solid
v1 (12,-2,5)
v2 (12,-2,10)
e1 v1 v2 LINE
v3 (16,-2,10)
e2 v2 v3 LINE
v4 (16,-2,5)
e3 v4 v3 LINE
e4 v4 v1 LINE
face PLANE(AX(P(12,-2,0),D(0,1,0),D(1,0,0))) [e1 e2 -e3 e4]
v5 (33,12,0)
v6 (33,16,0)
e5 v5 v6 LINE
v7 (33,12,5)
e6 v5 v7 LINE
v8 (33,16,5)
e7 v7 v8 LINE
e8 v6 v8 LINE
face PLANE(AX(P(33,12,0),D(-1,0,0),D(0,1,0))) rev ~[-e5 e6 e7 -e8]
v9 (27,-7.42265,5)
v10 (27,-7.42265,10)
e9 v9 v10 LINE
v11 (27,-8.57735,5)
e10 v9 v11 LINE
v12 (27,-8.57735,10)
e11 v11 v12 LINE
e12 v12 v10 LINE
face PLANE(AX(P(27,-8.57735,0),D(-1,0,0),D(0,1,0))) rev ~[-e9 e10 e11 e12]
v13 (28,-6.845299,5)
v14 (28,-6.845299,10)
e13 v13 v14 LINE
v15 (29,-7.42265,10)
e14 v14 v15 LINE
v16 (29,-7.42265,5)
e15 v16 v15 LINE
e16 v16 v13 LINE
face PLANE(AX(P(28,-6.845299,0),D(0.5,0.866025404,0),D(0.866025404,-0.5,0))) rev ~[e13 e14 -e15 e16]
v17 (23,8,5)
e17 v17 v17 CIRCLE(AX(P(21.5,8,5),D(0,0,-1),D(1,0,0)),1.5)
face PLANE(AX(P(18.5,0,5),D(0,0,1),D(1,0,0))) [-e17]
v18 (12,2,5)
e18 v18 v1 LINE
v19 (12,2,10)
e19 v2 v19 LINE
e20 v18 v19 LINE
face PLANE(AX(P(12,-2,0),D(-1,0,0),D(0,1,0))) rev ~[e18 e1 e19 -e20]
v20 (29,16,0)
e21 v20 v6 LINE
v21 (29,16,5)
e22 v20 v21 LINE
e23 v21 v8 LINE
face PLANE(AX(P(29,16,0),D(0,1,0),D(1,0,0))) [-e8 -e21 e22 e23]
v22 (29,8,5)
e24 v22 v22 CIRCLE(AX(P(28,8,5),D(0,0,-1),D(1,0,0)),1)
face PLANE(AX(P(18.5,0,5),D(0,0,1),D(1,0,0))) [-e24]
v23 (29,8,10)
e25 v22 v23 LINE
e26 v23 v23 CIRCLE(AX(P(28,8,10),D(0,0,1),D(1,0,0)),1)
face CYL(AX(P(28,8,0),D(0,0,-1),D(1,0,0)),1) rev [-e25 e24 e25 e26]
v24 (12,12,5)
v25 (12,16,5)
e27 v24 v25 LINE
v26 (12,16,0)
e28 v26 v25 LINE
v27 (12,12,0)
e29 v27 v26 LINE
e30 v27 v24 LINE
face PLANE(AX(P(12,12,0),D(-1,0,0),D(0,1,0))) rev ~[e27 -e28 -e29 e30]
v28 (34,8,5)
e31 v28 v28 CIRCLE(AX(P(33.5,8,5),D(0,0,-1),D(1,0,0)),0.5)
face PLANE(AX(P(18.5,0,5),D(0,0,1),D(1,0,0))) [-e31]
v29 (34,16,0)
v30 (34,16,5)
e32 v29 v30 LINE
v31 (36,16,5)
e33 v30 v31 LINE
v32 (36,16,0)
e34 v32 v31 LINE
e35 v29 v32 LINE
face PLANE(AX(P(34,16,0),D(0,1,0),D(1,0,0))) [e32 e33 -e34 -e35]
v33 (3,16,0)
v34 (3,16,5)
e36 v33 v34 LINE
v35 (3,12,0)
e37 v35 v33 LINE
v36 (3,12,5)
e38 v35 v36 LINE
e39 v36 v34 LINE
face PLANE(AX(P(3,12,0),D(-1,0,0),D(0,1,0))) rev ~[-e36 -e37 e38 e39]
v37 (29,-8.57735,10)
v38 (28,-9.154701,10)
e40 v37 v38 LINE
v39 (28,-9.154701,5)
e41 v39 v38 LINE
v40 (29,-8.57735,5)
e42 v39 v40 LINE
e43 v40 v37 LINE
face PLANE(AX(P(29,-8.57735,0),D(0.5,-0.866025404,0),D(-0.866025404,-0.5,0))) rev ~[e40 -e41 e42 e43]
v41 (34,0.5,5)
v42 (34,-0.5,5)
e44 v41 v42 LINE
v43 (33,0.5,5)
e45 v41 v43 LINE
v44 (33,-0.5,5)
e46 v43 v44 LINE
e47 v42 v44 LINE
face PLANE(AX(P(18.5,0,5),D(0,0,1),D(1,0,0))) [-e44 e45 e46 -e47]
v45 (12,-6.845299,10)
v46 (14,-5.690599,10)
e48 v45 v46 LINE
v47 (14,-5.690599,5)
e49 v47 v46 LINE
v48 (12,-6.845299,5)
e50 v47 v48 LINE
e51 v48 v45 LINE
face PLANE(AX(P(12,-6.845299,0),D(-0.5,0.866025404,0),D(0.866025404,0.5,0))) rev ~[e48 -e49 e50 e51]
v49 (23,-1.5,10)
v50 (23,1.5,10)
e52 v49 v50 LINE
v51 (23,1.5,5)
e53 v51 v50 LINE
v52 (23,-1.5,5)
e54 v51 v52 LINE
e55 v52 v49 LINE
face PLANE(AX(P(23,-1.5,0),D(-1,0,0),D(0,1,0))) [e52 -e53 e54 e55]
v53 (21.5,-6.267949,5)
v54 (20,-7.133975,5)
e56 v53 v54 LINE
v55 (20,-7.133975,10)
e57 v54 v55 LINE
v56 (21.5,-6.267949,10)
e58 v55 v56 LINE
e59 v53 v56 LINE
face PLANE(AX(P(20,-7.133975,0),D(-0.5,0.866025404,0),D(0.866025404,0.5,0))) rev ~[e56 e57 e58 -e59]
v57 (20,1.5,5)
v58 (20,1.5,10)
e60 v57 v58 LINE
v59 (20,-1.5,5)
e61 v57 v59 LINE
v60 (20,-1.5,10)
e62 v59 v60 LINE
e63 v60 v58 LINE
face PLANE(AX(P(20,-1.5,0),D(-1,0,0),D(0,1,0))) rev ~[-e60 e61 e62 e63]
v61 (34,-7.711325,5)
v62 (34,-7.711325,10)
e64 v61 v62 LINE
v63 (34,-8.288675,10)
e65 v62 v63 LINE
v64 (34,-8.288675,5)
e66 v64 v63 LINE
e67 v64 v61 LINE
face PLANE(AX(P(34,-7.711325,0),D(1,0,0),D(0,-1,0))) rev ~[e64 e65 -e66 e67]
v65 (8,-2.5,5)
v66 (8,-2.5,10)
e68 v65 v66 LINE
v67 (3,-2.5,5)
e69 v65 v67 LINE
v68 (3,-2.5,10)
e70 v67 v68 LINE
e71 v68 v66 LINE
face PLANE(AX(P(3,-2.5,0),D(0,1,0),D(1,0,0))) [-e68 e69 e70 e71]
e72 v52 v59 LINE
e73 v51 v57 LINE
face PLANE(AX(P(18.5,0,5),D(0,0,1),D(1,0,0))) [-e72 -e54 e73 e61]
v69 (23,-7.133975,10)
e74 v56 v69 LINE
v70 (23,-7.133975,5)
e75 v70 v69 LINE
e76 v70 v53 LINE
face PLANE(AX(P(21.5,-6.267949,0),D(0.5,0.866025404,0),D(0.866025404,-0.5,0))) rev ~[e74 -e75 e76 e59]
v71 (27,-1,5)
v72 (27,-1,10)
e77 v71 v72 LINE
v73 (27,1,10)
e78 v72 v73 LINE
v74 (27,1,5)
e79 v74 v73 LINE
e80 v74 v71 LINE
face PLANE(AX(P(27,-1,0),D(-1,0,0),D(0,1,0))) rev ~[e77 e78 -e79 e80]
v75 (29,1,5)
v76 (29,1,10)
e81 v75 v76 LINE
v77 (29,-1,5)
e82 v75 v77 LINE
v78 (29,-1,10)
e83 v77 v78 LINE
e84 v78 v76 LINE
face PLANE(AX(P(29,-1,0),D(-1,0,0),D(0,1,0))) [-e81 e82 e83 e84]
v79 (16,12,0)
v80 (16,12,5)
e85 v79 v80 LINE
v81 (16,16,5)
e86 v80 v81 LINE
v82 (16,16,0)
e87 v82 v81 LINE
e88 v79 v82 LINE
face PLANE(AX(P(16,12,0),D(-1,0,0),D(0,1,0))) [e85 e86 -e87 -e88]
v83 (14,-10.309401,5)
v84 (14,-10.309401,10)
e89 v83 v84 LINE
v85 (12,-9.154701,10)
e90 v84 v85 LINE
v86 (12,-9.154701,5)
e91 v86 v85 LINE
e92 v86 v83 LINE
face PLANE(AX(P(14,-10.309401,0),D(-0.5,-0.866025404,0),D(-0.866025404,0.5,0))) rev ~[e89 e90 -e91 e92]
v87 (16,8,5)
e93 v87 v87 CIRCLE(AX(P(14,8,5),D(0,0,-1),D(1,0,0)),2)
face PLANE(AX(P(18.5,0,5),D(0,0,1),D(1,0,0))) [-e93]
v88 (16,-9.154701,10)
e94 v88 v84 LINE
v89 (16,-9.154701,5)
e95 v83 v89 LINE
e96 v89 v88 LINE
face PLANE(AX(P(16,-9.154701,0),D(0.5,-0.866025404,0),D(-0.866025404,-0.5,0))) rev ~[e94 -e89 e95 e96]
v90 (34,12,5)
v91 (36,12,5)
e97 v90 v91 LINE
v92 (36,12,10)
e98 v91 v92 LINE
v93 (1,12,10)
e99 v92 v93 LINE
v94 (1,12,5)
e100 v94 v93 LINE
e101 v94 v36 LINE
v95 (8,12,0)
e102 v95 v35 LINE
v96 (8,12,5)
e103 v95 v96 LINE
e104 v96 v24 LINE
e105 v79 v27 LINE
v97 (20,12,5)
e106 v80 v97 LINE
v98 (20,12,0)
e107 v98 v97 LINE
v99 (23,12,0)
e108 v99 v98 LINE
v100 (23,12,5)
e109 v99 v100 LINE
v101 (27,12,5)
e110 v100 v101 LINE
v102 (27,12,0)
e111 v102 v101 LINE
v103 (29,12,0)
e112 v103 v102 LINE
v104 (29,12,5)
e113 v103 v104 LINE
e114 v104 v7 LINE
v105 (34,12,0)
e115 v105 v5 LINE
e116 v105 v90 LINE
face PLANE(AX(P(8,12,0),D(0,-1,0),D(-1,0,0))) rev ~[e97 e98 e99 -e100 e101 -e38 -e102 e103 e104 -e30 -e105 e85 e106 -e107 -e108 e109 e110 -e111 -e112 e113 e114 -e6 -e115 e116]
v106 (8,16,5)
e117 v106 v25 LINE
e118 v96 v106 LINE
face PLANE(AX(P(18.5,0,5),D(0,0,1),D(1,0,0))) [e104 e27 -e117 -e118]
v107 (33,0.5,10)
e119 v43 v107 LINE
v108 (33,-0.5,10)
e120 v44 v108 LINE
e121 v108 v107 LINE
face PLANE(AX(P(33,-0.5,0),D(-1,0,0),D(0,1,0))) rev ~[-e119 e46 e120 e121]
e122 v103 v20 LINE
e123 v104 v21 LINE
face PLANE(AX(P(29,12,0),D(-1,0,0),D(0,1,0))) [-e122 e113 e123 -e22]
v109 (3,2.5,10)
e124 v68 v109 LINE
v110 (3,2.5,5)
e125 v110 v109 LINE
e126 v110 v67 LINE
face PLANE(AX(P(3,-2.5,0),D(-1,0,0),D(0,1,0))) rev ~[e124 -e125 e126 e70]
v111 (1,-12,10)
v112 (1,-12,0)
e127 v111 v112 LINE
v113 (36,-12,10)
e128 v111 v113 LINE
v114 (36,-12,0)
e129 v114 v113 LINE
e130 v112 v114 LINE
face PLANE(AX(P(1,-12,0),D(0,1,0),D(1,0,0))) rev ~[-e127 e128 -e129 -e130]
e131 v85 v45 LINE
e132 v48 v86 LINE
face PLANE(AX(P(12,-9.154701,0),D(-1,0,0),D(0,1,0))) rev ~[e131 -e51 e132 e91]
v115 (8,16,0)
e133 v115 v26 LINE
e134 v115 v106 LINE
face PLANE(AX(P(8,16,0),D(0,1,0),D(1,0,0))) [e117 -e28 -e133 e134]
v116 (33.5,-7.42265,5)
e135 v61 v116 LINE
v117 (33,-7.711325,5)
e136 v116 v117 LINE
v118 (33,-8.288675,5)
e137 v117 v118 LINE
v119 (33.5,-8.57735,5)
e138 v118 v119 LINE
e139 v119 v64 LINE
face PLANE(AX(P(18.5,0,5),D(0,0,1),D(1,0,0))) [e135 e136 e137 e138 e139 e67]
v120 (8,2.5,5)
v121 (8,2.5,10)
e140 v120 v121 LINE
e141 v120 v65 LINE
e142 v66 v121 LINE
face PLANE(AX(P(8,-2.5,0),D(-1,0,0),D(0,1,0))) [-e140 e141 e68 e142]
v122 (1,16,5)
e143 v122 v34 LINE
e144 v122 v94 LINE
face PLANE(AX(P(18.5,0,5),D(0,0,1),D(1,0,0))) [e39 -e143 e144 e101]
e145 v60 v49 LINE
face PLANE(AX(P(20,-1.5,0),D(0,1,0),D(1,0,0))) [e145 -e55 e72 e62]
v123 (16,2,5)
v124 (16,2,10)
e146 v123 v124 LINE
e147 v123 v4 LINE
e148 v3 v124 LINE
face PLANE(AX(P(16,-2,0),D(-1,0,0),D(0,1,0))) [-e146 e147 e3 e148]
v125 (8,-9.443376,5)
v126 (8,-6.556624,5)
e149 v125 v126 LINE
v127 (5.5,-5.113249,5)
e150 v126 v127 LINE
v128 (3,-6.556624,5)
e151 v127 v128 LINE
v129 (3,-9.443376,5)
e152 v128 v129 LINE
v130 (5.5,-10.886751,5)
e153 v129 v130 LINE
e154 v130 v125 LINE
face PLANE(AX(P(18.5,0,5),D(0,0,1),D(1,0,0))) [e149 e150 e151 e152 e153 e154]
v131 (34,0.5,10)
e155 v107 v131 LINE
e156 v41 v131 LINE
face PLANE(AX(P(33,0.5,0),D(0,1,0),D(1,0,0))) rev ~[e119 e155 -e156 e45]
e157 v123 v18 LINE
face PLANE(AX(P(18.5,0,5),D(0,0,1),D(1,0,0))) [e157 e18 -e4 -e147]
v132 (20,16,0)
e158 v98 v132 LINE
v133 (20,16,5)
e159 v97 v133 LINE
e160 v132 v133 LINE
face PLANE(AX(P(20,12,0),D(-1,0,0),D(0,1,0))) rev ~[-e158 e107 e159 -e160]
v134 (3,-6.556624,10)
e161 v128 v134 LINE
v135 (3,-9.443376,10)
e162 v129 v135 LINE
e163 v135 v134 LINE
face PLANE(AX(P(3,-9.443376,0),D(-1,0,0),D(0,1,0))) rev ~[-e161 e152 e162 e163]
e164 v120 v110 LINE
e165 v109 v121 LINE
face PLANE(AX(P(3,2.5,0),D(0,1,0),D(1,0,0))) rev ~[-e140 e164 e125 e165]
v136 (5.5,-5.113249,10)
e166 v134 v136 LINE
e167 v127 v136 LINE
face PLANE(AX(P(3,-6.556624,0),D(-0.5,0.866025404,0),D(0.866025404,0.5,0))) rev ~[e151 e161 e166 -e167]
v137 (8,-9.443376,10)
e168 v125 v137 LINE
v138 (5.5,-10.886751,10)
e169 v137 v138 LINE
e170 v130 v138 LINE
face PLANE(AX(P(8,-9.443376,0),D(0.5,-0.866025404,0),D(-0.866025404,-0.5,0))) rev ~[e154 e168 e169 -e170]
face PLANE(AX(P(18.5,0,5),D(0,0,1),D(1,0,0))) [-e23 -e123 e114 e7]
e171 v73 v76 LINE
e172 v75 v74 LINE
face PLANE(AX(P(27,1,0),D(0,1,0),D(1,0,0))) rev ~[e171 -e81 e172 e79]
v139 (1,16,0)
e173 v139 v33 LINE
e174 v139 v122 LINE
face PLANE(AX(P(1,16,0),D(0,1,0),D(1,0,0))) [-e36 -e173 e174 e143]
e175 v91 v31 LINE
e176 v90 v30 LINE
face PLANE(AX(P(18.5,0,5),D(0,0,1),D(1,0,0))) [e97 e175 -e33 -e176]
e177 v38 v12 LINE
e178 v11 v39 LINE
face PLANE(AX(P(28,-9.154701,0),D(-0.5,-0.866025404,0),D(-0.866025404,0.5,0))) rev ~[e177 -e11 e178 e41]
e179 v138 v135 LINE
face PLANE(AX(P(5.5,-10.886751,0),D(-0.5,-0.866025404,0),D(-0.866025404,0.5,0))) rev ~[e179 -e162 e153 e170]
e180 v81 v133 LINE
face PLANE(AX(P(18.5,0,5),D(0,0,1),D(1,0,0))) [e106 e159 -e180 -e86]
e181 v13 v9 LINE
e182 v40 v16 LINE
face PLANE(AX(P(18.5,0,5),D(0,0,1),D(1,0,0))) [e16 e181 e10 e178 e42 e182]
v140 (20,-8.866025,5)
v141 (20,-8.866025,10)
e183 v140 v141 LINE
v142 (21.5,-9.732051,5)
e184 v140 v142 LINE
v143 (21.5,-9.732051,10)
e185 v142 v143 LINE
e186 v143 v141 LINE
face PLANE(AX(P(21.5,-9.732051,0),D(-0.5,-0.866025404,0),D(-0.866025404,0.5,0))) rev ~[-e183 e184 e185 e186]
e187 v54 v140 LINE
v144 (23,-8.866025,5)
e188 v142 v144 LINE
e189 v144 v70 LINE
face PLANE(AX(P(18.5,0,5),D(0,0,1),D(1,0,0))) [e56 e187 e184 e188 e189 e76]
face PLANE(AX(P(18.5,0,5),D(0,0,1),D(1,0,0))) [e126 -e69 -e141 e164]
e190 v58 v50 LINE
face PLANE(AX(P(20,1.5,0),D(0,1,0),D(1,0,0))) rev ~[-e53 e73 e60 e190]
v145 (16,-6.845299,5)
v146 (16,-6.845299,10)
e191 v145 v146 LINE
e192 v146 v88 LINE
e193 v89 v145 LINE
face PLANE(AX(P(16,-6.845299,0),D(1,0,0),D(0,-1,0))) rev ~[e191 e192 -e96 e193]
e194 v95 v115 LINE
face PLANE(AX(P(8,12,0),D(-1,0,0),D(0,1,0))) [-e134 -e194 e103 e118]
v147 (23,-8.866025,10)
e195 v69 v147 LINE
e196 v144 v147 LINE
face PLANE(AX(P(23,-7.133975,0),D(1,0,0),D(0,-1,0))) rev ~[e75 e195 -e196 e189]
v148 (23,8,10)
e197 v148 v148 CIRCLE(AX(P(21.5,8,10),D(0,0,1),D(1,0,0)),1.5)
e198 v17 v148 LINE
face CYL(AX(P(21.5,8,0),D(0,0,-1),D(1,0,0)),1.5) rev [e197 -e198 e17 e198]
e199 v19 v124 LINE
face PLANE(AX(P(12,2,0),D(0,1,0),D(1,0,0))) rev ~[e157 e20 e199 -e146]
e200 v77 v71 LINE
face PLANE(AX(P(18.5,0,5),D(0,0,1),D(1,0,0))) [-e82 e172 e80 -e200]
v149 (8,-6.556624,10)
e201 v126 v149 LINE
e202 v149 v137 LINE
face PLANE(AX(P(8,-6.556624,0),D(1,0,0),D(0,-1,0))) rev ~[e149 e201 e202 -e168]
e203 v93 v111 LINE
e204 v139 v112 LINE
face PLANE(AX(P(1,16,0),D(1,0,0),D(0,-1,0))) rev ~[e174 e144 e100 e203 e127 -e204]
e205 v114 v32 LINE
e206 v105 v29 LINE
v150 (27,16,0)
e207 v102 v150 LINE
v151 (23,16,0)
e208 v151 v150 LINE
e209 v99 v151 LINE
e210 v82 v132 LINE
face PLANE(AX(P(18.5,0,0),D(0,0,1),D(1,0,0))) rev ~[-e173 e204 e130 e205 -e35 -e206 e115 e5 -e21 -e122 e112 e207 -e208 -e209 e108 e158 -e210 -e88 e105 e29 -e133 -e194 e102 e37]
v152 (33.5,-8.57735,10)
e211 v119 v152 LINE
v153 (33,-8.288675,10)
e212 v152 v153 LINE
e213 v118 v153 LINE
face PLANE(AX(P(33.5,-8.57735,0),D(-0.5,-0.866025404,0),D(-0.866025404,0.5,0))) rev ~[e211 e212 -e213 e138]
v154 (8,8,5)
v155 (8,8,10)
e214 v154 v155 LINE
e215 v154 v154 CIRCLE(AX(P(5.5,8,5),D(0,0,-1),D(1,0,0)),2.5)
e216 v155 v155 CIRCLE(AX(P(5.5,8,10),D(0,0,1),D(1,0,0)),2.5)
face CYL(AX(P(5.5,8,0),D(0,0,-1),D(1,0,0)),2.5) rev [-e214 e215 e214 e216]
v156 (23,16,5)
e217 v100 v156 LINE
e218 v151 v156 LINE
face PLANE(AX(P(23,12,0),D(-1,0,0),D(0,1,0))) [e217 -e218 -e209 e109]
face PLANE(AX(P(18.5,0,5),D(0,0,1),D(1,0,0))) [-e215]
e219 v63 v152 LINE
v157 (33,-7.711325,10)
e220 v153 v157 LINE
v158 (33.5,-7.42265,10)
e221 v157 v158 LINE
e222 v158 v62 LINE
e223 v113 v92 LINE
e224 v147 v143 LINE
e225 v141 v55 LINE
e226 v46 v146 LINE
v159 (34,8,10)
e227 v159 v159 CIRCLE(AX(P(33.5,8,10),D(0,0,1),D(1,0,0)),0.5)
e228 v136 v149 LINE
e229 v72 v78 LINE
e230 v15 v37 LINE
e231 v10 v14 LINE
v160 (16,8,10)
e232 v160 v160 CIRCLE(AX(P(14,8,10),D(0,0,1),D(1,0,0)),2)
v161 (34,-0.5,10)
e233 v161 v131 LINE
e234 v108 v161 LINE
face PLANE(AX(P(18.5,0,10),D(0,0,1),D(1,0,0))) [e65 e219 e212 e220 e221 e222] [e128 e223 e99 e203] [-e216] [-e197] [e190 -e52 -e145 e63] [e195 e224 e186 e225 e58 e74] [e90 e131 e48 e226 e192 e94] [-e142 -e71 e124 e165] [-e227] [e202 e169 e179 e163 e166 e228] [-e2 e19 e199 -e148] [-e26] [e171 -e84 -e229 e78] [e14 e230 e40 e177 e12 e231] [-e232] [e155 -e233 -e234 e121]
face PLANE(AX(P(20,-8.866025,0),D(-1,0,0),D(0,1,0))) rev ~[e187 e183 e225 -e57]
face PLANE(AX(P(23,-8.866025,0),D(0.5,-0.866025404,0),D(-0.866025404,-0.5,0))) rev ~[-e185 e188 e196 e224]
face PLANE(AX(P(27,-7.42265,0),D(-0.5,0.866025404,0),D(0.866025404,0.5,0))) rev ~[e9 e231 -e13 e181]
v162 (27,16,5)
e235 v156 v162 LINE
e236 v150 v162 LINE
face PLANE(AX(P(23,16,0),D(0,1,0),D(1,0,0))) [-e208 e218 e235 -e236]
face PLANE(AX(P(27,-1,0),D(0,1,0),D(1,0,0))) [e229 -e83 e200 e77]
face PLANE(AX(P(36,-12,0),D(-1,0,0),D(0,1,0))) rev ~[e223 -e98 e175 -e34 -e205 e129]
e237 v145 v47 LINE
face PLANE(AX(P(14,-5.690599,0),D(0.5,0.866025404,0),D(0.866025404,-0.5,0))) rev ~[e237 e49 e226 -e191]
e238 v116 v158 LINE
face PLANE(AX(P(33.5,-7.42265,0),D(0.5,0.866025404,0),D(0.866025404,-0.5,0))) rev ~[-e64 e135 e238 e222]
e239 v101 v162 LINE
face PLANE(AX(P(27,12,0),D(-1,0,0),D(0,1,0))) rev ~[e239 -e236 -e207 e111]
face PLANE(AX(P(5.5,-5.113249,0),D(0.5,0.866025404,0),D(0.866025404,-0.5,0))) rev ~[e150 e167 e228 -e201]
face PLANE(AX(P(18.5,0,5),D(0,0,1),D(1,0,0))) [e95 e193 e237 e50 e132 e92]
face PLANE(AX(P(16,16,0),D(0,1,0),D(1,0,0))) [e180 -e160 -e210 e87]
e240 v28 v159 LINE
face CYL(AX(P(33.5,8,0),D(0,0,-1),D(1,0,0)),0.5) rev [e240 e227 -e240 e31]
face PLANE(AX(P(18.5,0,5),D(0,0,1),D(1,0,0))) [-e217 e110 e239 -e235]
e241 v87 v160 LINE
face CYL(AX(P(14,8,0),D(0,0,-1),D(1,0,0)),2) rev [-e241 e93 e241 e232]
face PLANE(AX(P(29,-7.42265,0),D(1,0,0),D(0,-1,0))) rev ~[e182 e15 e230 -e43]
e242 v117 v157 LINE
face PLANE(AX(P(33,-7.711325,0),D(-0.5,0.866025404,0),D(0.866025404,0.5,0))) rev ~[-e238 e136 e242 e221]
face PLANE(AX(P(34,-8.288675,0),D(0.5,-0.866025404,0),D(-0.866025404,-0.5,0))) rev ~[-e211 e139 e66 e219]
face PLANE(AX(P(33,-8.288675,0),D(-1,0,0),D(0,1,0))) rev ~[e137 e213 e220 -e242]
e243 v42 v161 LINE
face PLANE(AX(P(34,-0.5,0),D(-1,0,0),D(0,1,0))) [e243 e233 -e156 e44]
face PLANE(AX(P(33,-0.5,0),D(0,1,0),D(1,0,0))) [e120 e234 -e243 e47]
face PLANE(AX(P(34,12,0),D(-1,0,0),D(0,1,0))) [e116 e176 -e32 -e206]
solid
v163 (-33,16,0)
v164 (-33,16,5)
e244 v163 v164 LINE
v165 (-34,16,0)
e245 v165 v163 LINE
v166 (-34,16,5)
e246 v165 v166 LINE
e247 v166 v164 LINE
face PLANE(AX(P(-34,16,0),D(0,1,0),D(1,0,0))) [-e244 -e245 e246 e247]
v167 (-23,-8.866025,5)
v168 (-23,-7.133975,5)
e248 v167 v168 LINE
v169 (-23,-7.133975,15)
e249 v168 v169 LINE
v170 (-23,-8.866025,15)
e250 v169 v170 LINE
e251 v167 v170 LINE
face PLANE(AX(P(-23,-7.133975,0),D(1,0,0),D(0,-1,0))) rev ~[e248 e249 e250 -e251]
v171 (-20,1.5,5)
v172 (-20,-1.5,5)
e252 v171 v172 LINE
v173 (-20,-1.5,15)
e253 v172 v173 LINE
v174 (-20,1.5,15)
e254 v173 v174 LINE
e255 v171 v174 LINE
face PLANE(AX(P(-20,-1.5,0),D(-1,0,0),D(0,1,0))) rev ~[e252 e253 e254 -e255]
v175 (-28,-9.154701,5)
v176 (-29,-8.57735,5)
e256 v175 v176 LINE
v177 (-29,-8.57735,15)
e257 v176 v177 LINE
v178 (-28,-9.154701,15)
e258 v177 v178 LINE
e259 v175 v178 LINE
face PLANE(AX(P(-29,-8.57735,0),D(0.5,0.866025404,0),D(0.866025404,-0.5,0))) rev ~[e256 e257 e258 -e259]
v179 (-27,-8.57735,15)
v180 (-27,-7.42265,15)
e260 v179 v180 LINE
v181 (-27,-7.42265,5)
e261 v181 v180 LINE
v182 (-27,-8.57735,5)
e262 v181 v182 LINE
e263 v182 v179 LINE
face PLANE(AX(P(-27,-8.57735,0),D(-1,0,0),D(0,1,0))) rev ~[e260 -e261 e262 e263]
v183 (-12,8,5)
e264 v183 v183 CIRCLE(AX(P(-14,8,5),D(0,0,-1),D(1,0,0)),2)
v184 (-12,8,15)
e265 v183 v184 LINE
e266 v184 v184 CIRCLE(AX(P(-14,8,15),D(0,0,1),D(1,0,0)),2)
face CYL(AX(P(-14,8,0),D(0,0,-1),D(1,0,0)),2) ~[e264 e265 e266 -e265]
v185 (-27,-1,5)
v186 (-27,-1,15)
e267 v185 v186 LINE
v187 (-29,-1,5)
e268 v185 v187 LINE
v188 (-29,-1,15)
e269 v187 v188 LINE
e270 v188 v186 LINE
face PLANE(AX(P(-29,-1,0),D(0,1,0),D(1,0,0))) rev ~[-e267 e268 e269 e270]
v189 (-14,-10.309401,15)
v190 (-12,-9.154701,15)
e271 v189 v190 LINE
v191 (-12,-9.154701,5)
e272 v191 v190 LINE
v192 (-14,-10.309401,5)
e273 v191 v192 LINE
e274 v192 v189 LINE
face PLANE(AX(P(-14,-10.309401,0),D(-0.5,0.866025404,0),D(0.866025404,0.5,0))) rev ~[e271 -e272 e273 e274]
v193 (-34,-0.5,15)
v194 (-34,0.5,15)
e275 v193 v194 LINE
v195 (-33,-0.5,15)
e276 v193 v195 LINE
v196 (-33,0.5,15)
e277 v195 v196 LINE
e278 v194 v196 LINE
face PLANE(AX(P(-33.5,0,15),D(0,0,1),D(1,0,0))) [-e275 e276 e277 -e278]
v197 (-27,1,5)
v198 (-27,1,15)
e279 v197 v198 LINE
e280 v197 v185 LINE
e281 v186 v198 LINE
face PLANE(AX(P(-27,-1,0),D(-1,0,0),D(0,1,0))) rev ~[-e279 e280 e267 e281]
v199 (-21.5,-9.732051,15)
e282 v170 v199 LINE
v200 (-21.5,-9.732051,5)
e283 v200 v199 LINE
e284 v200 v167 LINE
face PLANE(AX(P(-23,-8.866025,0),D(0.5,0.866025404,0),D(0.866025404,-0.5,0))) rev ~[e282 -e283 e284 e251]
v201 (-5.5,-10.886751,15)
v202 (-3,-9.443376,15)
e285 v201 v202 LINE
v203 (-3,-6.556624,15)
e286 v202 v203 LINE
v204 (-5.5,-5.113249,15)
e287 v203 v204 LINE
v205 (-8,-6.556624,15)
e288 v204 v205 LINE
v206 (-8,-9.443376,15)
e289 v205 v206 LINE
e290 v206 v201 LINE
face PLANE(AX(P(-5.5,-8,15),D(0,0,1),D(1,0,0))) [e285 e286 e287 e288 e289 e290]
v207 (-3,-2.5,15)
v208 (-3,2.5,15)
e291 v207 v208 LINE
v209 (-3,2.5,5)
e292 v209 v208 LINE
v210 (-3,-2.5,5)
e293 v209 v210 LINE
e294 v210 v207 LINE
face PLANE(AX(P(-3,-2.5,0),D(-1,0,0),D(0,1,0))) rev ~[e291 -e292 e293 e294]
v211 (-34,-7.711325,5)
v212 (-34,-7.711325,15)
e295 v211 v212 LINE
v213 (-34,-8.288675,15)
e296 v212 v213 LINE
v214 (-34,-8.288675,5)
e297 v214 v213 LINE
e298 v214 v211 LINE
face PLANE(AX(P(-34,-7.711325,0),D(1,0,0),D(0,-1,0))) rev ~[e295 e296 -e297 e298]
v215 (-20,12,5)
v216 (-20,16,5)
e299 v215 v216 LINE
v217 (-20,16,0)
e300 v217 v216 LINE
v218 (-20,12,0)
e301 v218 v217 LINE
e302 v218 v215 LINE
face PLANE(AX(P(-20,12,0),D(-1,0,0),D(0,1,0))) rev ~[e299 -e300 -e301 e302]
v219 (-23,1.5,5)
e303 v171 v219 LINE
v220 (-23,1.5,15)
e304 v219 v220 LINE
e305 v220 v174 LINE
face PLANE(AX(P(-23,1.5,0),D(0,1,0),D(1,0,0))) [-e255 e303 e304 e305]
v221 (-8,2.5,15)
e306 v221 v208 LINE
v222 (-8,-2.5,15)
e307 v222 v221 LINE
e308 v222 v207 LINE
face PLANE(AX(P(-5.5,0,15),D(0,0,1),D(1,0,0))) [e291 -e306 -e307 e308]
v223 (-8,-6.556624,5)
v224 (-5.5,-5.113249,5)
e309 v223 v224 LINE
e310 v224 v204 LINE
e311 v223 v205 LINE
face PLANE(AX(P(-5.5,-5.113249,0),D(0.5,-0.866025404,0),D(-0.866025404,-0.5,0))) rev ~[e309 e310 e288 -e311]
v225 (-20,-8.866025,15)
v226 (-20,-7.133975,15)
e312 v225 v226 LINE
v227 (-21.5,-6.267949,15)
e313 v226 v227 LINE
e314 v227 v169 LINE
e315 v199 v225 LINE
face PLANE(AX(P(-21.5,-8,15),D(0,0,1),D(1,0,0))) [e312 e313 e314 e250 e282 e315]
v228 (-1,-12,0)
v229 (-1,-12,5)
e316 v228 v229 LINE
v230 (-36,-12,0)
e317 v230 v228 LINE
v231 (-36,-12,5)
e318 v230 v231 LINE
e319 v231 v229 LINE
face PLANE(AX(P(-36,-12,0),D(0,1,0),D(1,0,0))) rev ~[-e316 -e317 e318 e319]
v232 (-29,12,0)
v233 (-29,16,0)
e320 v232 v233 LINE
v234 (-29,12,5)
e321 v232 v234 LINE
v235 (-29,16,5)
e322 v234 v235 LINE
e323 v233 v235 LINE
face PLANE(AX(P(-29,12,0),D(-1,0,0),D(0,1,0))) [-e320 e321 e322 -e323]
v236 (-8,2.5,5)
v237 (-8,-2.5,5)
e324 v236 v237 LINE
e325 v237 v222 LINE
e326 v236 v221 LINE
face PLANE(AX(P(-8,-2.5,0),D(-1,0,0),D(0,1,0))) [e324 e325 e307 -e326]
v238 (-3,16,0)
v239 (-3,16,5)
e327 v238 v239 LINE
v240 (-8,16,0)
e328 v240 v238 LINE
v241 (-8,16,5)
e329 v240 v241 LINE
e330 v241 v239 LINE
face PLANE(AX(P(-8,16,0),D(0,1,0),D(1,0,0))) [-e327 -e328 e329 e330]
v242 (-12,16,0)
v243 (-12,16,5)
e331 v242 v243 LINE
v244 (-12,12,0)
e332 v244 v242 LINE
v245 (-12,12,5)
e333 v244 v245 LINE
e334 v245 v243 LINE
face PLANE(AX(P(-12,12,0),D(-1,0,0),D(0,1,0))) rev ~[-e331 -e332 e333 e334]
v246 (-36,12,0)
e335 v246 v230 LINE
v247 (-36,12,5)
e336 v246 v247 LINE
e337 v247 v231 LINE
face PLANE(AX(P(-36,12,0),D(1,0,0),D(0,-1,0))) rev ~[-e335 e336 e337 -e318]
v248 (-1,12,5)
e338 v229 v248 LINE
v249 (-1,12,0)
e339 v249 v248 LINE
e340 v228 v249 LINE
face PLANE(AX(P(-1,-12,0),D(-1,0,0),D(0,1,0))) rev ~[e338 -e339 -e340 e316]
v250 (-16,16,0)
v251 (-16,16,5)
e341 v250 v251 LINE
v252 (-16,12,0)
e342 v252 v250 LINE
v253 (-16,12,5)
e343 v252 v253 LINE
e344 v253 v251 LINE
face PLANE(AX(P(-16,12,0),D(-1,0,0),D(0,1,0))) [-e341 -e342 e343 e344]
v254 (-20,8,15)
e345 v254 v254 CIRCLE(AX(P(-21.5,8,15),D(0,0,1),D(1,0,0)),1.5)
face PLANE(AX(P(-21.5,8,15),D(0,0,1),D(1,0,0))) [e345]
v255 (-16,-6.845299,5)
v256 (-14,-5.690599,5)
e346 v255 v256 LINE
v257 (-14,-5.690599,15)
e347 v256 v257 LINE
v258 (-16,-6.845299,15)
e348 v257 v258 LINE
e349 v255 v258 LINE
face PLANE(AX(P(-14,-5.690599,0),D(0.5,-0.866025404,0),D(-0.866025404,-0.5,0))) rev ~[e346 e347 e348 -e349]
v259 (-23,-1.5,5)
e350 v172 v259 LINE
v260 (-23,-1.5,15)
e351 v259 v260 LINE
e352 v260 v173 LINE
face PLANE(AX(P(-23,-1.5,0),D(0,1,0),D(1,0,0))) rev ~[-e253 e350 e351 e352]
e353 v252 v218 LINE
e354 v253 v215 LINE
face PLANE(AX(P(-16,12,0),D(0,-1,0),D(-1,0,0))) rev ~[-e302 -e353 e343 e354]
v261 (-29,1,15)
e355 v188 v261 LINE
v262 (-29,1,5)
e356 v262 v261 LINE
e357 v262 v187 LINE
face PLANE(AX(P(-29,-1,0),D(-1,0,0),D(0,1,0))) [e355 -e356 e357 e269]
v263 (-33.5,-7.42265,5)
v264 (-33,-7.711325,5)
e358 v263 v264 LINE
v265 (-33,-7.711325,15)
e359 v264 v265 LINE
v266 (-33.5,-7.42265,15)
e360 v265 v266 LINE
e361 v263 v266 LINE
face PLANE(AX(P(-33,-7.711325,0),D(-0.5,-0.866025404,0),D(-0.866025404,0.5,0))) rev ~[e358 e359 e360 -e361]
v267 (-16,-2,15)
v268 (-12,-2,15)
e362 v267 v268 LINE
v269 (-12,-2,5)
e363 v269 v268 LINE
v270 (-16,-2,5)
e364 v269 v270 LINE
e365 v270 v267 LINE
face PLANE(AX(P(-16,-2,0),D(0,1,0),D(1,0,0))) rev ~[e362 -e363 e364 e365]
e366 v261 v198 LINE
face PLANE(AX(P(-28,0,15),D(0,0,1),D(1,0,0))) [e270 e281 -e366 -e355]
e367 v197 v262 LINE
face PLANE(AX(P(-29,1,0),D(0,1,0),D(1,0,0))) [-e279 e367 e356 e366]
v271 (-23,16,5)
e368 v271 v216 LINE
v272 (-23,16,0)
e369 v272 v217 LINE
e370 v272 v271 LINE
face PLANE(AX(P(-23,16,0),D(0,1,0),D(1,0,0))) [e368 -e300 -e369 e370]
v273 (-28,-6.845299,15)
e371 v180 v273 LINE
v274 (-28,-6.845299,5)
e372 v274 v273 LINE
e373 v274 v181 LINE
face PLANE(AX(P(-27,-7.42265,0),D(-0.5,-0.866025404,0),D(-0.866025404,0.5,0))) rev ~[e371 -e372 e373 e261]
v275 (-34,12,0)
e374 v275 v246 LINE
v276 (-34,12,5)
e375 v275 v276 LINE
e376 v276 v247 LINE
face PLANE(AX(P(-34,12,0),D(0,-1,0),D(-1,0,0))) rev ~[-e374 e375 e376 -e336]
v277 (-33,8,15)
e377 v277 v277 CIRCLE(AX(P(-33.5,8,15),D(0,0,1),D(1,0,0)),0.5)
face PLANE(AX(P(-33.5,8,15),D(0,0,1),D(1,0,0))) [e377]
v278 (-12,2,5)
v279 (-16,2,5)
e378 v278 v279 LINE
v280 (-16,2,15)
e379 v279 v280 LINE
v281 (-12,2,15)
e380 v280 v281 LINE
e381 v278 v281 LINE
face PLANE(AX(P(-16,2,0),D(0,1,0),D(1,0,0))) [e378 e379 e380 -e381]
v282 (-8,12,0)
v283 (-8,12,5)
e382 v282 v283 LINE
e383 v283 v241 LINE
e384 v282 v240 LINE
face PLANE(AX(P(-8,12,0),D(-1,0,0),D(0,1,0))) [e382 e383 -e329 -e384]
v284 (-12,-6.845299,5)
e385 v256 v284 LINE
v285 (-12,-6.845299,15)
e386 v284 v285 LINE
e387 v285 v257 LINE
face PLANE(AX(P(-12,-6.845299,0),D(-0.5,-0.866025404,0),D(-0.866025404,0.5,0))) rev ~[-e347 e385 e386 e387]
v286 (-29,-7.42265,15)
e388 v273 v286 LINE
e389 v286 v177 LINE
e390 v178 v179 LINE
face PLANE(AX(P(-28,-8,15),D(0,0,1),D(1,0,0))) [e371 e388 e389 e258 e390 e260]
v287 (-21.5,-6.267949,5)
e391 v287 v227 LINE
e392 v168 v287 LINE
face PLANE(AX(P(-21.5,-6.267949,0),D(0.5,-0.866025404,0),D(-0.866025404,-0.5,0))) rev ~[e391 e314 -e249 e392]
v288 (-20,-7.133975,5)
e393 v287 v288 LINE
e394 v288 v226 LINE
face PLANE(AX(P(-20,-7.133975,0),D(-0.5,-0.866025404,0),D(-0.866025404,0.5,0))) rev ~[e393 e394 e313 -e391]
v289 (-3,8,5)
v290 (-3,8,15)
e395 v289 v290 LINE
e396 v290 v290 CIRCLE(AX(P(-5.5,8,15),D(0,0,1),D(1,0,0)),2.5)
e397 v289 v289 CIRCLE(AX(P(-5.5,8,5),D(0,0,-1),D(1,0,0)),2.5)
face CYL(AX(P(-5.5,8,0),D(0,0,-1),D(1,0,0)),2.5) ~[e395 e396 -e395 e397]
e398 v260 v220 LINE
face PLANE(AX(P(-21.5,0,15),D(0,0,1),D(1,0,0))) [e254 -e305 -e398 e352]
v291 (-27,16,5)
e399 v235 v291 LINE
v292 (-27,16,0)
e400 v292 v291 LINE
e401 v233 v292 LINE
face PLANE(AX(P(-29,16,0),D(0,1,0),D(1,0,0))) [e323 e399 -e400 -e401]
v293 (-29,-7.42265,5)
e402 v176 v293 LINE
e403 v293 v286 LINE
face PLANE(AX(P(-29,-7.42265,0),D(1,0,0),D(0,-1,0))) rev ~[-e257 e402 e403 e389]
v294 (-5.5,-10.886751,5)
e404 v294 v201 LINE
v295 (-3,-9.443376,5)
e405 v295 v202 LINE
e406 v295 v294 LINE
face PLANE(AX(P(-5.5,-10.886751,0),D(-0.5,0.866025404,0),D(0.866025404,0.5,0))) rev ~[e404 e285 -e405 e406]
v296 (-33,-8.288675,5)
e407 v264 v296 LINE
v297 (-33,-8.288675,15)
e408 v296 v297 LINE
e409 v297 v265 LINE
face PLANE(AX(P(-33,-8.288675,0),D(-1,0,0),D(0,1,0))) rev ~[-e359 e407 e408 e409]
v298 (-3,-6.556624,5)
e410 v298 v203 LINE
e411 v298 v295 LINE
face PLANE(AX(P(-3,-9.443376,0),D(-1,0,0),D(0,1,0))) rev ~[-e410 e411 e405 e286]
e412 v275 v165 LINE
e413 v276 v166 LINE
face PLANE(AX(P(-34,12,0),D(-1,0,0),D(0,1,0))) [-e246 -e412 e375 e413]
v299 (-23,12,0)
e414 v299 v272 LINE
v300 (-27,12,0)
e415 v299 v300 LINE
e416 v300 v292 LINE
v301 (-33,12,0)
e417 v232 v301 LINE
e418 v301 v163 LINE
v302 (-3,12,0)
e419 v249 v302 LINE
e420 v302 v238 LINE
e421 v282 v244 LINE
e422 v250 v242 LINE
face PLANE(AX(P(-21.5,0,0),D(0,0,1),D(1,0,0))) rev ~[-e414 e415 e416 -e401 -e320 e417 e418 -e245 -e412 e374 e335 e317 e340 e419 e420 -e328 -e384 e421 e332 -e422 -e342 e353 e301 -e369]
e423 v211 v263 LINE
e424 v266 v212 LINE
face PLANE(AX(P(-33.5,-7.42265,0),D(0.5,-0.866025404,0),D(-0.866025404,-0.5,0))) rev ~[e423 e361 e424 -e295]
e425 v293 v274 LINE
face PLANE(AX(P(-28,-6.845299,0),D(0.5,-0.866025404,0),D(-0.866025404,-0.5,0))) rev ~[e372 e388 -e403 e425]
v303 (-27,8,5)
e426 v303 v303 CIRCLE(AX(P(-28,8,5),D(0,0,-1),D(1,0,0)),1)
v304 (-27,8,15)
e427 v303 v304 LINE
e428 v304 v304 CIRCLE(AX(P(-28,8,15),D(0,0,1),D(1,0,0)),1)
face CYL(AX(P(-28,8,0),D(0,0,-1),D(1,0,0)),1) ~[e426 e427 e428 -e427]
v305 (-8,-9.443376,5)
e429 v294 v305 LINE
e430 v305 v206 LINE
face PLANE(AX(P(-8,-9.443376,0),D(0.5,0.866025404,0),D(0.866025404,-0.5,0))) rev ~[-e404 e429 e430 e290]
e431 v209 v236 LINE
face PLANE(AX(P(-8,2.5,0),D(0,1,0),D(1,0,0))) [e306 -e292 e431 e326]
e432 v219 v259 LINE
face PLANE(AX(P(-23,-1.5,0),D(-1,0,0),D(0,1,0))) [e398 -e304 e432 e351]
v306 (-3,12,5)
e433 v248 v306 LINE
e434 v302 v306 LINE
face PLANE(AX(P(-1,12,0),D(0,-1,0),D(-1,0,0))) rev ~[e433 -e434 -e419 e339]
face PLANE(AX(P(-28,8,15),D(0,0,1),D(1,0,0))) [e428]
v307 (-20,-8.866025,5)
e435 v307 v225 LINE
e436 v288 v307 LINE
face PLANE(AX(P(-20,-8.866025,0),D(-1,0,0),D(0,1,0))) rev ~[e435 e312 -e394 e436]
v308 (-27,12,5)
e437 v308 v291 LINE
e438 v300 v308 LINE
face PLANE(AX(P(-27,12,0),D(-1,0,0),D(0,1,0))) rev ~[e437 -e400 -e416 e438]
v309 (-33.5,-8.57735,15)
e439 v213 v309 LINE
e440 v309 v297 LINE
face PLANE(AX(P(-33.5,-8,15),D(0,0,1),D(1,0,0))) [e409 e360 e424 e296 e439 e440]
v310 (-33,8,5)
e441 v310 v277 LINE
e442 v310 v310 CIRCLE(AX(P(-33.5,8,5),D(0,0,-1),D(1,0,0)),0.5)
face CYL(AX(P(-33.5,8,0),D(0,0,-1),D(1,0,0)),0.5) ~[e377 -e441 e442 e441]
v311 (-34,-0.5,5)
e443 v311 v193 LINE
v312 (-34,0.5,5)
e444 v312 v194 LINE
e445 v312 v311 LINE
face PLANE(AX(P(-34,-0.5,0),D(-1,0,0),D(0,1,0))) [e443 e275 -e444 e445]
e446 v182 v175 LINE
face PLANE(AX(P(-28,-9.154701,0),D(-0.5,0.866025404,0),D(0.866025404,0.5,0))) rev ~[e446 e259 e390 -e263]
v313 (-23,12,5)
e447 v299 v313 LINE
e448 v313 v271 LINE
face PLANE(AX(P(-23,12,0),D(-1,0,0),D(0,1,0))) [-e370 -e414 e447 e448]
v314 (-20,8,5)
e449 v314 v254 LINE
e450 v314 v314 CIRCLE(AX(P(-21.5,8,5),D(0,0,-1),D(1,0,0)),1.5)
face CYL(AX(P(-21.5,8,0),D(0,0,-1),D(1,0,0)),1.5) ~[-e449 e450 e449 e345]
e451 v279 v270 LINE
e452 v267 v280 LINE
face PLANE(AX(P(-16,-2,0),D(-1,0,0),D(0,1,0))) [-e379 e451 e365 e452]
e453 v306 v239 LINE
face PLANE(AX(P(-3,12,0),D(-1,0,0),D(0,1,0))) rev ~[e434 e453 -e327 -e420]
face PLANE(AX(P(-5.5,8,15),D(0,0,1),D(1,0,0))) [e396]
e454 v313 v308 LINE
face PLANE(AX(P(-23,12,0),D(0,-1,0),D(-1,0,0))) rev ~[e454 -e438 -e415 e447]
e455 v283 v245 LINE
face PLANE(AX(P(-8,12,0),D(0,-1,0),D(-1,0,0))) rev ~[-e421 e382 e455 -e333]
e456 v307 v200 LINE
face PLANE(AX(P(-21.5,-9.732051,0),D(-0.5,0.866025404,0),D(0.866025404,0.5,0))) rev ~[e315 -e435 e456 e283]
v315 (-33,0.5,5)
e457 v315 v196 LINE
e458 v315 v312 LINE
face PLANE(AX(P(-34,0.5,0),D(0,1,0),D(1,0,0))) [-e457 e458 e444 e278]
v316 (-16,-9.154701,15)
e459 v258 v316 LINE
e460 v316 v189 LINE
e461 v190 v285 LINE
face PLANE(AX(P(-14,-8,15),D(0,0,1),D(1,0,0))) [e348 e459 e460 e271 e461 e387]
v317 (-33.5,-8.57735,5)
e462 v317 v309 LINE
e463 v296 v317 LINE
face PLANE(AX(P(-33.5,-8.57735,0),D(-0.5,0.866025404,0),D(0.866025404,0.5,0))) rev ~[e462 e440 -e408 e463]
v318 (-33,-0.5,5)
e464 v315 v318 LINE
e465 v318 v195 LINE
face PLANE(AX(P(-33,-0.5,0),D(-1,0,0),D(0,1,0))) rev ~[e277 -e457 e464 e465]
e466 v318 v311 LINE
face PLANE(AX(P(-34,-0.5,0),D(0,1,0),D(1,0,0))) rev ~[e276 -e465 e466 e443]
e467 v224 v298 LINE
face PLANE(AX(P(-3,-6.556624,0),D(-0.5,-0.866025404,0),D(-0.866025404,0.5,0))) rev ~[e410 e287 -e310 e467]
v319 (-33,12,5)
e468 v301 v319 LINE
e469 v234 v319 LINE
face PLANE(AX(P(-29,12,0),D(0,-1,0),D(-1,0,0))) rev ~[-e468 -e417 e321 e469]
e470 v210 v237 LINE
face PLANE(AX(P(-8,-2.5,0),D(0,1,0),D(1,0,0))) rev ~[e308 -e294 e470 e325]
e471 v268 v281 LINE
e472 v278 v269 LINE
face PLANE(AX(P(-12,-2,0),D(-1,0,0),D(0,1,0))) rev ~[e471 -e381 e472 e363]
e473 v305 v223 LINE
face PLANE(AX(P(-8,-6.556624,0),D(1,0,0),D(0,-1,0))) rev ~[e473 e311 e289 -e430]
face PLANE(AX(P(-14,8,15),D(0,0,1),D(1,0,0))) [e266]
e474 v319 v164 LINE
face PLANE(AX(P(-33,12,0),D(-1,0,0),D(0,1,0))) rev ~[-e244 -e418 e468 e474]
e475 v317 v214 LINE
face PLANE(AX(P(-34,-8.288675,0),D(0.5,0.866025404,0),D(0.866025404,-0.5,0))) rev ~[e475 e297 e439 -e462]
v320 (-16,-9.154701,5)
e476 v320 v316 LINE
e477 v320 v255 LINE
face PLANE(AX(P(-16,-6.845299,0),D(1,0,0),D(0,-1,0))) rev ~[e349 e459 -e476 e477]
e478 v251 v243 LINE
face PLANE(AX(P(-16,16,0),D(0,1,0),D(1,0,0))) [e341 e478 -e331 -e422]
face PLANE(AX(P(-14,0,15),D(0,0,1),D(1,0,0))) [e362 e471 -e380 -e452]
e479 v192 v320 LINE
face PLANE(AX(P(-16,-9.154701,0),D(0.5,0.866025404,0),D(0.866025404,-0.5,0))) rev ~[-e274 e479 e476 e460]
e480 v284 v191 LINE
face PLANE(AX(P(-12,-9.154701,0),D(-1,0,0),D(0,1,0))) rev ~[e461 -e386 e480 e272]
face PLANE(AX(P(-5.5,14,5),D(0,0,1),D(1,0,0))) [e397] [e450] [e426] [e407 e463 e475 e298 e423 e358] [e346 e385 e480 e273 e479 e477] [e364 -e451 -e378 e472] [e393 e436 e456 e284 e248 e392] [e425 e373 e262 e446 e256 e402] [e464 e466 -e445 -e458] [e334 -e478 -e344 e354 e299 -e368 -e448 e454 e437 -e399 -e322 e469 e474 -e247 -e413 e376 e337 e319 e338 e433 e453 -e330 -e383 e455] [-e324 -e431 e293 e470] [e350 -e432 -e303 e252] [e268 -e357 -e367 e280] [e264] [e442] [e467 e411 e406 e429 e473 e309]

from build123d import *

# Parameters (mm, degrees)
F0_W     = 5
F0_H     = 4
F0_W_2   = 4
F0_W_3   = 2
F0_W_4   = 3
F0_W_5   = 1
F0_H_2   = 1
F0_H_3   = 2
F0_H_4   = 3
F0_H_5   = 5
F0_R     = 0.5
F0_R_2   = 1
F0_R_3   = 1.5
F0_R_4   = 2
F0_R_5   = 2.5
F1_DEPTH = 5
F2_DEPTH = 10
F3_DEPTH = 15


with BuildPart() as f1:
    # F0 (on Top) → F1 (new body)
    with BuildSketch(Plane.XY):
        with Locations((-5.5, 14)):
            Rectangle(F0_W, F0_H)
        with Locations((-14, 14)):
            Rectangle(F0_W_2, F0_H)
        with Locations((-28, 14)):
            Rectangle(F0_W_3, F0_H)
        with Locations((-21.5, 14)):
            Rectangle(F0_W_4, F0_H)
        with Locations((-33.5, 14)):
            Rectangle(F0_W_5, F0_H)
        Polygon((-34, 12), (-36, 12), (-36, -12), (-1, -12), (-1, 12), (-3, 12), (-8, 12), (-12, 12), (-16, 12), (-20, 12), (-23, 12), (-27, 12), (-29, 12), (-33, 12), align=None)
        Polygon((-34, -7.7113248654), (-33.5, -7.4226497308), (-33, -7.7113248654), (-33, -8.2886751346), (-33.5, -8.5773502692), (-34, -8.2886751346), align=None, mode=Mode.SUBTRACT)
        Polygon((-29, -7.4226497308), (-28, -6.8452994616), (-27, -7.4226497308), (-27, -8.5773502692), (-28, -9.1547005384), (-29, -8.5773502692), align=None, mode=Mode.SUBTRACT)
        Polygon((-23, -7.1339745962), (-21.5, -6.2679491924), (-20, -7.1339745962), (-20, -8.8660254038), (-21.5, -9.7320508076), (-23, -8.8660254038), align=None, mode=Mode.SUBTRACT)
        with Locations((-33.5, 0)):
            Rectangle(F0_W_5, F0_H_2, mode=Mode.SUBTRACT)
        with Locations((-28, 0)):
            Rectangle(F0_W_3, F0_H_3, mode=Mode.SUBTRACT)
        with Locations((-21.5, 0)):
            Rectangle(F0_W_4, F0_H_4, mode=Mode.SUBTRACT)
        Polygon((-16, -6.8452994616), (-14, -5.6905989232), (-12, -6.8452994616), (-12, -9.1547005384), (-14, -10.3094010768), (-16, -9.1547005384), align=None, mode=Mode.SUBTRACT)
        Polygon((-8, -9.443375673), (-8, -6.556624327), (-5.5, -5.1132486541), (-3, -6.556624327), (-3, -9.443375673), (-5.5, -10.8867513459), align=None, mode=Mode.SUBTRACT)
        with Locations((-14, 0)):
            Rectangle(F0_W_2, F0_H, mode=Mode.SUBTRACT)
        with Locations((-5.5, 0)):
            Rectangle(F0_W, F0_H_5, mode=Mode.SUBTRACT)
        with Locations((-33.5, 8)):
            Circle(F0_R, mode=Mode.SUBTRACT)
        with Locations((-28, 8)):
            Circle(F0_R_2, mode=Mode.SUBTRACT)
        with Locations((-21.5, 8)):
            Circle(F0_R_3, mode=Mode.SUBTRACT)
        with Locations((-14, 8)):
            Circle(F0_R_4, mode=Mode.SUBTRACT)
        with Locations((-5.5, 8)):
            Circle(F0_R_5, mode=Mode.SUBTRACT)
        Polygon((-12, -6.8452994616), (-14, -5.6905989232), (-16, -6.8452994616), (-16, -9.1547005384), (-14, -10.3094010768), (-12, -9.1547005384), align=None)
        Polygon((-20, -7.1339745962), (-21.5, -6.2679491924), (-23, -7.1339745962), (-23, -8.8660254038), (-21.5, -9.7320508076), (-20, -8.8660254038), align=None)
        with Locations((-5.5, 0)):
            Rectangle(F0_W, F0_H_5)
        with Locations((-28, 0)):
            Rectangle(F0_W_3, F0_H_3)
        with Locations((-14, 0)):
            Rectangle(F0_W_2, F0_H)
        with Locations((-21.5, 0)):
            Rectangle(F0_W_4, F0_H_4)
        with Locations((-28, 8)):
            Circle(F0_R_2)
        Polygon((-27, -7.4226497308), (-28, -6.8452994616), (-29, -7.4226497308), (-29, -8.5773502692), (-28, -9.1547005384), (-27, -8.5773502692), align=None)
        with Locations((-33.5, 8)):
            Circle(F0_R)
        Polygon((-33, -7.7113248654), (-33.5, -7.4226497308), (-34, -7.7113248654), (-34, -8.2886751346), (-33.5, -8.5773502692), (-33, -8.2886751346), align=None)
        with Locations((-33.5, 0)):
            Rectangle(F0_W_5, F0_H_2)
        with Locations((-5.5, 8)):
            Circle(F0_R_5)
        with Locations((-14, 8)):
            Circle(F0_R_4)
        with Locations((-21.5, 8)):
            Circle(F0_R_3)
        Polygon((-5.5, -5.1132486541), (-8, -6.556624327), (-8, -9.443375673), (-5.5, -10.8867513459), (-3, -9.443375673), (-3, -6.556624327), align=None)
    extrude(amount=F1_DEPTH)

    # F0 (on Top) → F3 (join)
    with BuildSketch(Plane.XY):
        with Locations((-21.5, 0)):
            Rectangle(F0_W_4, F0_H_4)
        with Locations((-28, 8)):
            Circle(F0_R_2)
        with Locations((-21.5, 8)):
            Circle(F0_R_3)
        Polygon((-5.5, -5.1132486541), (-8, -6.556624327), (-8, -9.443375673), (-5.5, -10.8867513459), (-3, -9.443375673), (-3, -6.556624327), align=None)
        Polygon((-27, -7.4226497308), (-28, -6.8452994616), (-29, -7.4226497308), (-29, -8.5773502692), (-28, -9.1547005384), (-27, -8.5773502692), align=None)
        with Locations((-5.5, 0)):
            Rectangle(F0_W, F0_H_5)
        with Locations((-14, 8)):
            Circle(F0_R_4)
        with Locations((-28, 0)):
            Rectangle(F0_W_3, F0_H_3)
        Polygon((-12, -6.8452994616), (-14, -5.6905989232), (-16, -6.8452994616), (-16, -9.1547005384), (-14, -10.3094010768), (-12, -9.1547005384), align=None)
        with Locations((-14, 0)):
            Rectangle(F0_W_2, F0_H)
        Polygon((-20, -7.1339745962), (-21.5, -6.2679491924), (-23, -7.1339745962), (-23, -8.8660254038), (-21.5, -9.7320508076), (-20, -8.8660254038), align=None)
        with Locations((-5.5, 8)):
            Circle(F0_R_5)
        with Locations((-33.5, 0)):
            Rectangle(F0_W_5, F0_H_2)
        with Locations((-33.5, 8)):
            Circle(F0_R)
        Polygon((-33, -7.7113248654), (-33.5, -7.4226497308), (-34, -7.7113248654), (-34, -8.2886751346), (-33.5, -8.5773502692), (-33, -8.2886751346), align=None)
    extrude(amount=F3_DEPTH)


with BuildPart() as f1b:
    # F0 (on Top) → F1, piece 2 (new body)
    with BuildSketch(Plane.XY):
        Polygon((1, 12), (1, -12), (36, -12), (36, 12), (34, 12), (33, 12), (29, 12), (27, 12), (23, 12), (20, 12), (16, 12), (12, 12), (8, 12), (3, 12), align=None)
        Polygon((5.5, -5.1132486541), (8, -6.556624327), (8, -9.443375673), (5.5, -10.8867513459), (3, -9.443375673), (3, -6.556624327), align=None, mode=Mode.SUBTRACT)
        Polygon((16, -6.8452994616), (16, -9.1547005384), (14, -10.3094010768), (12, -9.1547005384), (12, -6.8452994616), (14, -5.6905989232), align=None, mode=Mode.SUBTRACT)
        with Locations((5.5, 0)):
            Rectangle(F0_W, F0_H_5, mode=Mode.SUBTRACT)
        with Locations((14, 0)):
            Rectangle(F0_W_2, F0_H, mode=Mode.SUBTRACT)
        Polygon((20, -8.8660254038), (20, -7.1339745962), (21.5, -6.2679491924), (23, -7.1339745962), (23, -8.8660254038), (21.5, -9.7320508076), align=None, mode=Mode.SUBTRACT)
        Polygon((28, -9.1547005384), (27, -8.5773502692), (27, -7.4226497308), (28, -6.8452994616), (29, -7.4226497308), (29, -8.5773502692), align=None, mode=Mode.SUBTRACT)
        Polygon((33, -8.2886751346), (33, -7.7113248654), (33.5, -7.4226497308), (34, -7.7113248654), (34, -8.2886751346), (33.5, -8.5773502692), align=None, mode=Mode.SUBTRACT)
        with Locations((21.5, 0)):
            Rectangle(F0_W_4, F0_H_4, mode=Mode.SUBTRACT)
        with Locations((28, 0)):
            Rectangle(F0_W_3, F0_H_3, mode=Mode.SUBTRACT)
        with Locations((33.5, 0)):
            Rectangle(F0_W_5, F0_H_2, mode=Mode.SUBTRACT)
        with Locations((5.5, 8)):
            Circle(F0_R_5, mode=Mode.SUBTRACT)
        with Locations((14, 8)):
            Circle(F0_R_4, mode=Mode.SUBTRACT)
        with Locations((21.5, 8)):
            Circle(F0_R_3, mode=Mode.SUBTRACT)
        with Locations((28, 8)):
            Circle(F0_R_2, mode=Mode.SUBTRACT)
        with Locations((33.5, 8)):
            Circle(F0_R, mode=Mode.SUBTRACT)
        with Locations((5.5, 0)):
            Rectangle(F0_W, F0_H_5)
        Polygon((8, -9.443375673), (8, -6.556624327), (5.5, -5.1132486541), (3, -6.556624327), (3, -9.443375673), (5.5, -10.8867513459), align=None)
        with Locations((5.5, 8)):
            Circle(F0_R_5)
        with Locations((10, 14)):
            Rectangle(F0_W_2, F0_H)
        with Locations((14, 0)):
            Rectangle(F0_W_2, F0_H)
        with Locations((25, 14)):
            Rectangle(F0_W_2, F0_H)
        with Locations((31, 14)):
            Rectangle(F0_W_2, F0_H)
        with Locations((18, 14)):
            Rectangle(F0_W_2, F0_H)
        Polygon((14, -10.3094010768), (16, -9.1547005384), (16, -6.8452994616), (14, -5.6905989232), (12, -6.8452994616), (12, -9.1547005384), align=None)
        with Locations((14, 8)):
            Circle(F0_R_4)
        with Locations((21.5, 0)):
            Rectangle(F0_W_4, F0_H_4)
        with Locations((35, 14)):
            Rectangle(F0_W_3, F0_H)
        with Locations((2, 14)):
            Rectangle(F0_W_3, F0_H)
        Polygon((21.5, -6.2679491924), (20, -7.1339745962), (20, -8.8660254038), (21.5, -9.7320508076), (23, -8.8660254038), (23, -7.1339745962), align=None)
        with Locations((21.5, 8)):
            Circle(F0_R_3)
        with Locations((28, 0)):
            Rectangle(F0_W_3, F0_H_3)
        Polygon((27, -7.4226497308), (27, -8.5773502692), (28, -9.1547005384), (29, -8.5773502692), (29, -7.4226497308), (28, -6.8452994616), align=None)
        with Locations((28, 8)):
            Circle(F0_R_2)
        with Locations((33.5, 0)):
            Rectangle(F0_W_5, F0_H_2)
        Polygon((33.5, -7.4226497308), (33, -7.7113248654), (33, -8.2886751346), (33.5, -8.5773502692), (34, -8.2886751346), (34, -7.7113248654), align=None)
        with Locations((33.5, 8)):
            Circle(F0_R)
    extrude(amount=F1_DEPTH)

    # F0 (on Top) → F2 (join)
    with BuildSketch(Plane.XY):
        Polygon((1, 12), (1, -12), (36, -12), (36, 12), (34, 12), (33, 12), (29, 12), (27, 12), (23, 12), (20, 12), (16, 12), (12, 12), (8, 12), (3, 12), align=None)
        Polygon((5.5, -5.1132486541), (8, -6.556624327), (8, -9.443375673), (5.5, -10.8867513459), (3, -9.443375673), (3, -6.556624327), align=None, mode=Mode.SUBTRACT)
        Polygon((16, -6.8452994616), (16, -9.1547005384), (14, -10.3094010768), (12, -9.1547005384), (12, -6.8452994616), (14, -5.6905989232), align=None, mode=Mode.SUBTRACT)
        with Locations((5.5, 0)):
            Rectangle(F0_W, F0_H_5, mode=Mode.SUBTRACT)
        with Locations((14, 0)):
            Rectangle(F0_W_2, F0_H, mode=Mode.SUBTRACT)
        Polygon((20, -8.8660254038), (20, -7.1339745962), (21.5, -6.2679491924), (23, -7.1339745962), (23, -8.8660254038), (21.5, -9.7320508076), align=None, mode=Mode.SUBTRACT)
        Polygon((28, -9.1547005384), (27, -8.5773502692), (27, -7.4226497308), (28, -6.8452994616), (29, -7.4226497308), (29, -8.5773502692), align=None, mode=Mode.SUBTRACT)
        Polygon((33, -8.2886751346), (33, -7.7113248654), (33.5, -7.4226497308), (34, -7.7113248654), (34, -8.2886751346), (33.5, -8.5773502692), align=None, mode=Mode.SUBTRACT)
        with Locations((21.5, 0)):
            Rectangle(F0_W_4, F0_H_4, mode=Mode.SUBTRACT)
        with Locations((28, 0)):
            Rectangle(F0_W_3, F0_H_3, mode=Mode.SUBTRACT)
        with Locations((33.5, 0)):
            Rectangle(F0_W_5, F0_H_2, mode=Mode.SUBTRACT)
        with Locations((5.5, 8)):
            Circle(F0_R_5, mode=Mode.SUBTRACT)
        with Locations((14, 8)):
            Circle(F0_R_4, mode=Mode.SUBTRACT)
        with Locations((21.5, 8)):
            Circle(F0_R_3, mode=Mode.SUBTRACT)
        with Locations((28, 8)):
            Circle(F0_R_2, mode=Mode.SUBTRACT)
        with Locations((33.5, 8)):
            Circle(F0_R, mode=Mode.SUBTRACT)
    extrude(amount=F2_DEPTH)


solid = Compound([f1.part, f1b.part])
